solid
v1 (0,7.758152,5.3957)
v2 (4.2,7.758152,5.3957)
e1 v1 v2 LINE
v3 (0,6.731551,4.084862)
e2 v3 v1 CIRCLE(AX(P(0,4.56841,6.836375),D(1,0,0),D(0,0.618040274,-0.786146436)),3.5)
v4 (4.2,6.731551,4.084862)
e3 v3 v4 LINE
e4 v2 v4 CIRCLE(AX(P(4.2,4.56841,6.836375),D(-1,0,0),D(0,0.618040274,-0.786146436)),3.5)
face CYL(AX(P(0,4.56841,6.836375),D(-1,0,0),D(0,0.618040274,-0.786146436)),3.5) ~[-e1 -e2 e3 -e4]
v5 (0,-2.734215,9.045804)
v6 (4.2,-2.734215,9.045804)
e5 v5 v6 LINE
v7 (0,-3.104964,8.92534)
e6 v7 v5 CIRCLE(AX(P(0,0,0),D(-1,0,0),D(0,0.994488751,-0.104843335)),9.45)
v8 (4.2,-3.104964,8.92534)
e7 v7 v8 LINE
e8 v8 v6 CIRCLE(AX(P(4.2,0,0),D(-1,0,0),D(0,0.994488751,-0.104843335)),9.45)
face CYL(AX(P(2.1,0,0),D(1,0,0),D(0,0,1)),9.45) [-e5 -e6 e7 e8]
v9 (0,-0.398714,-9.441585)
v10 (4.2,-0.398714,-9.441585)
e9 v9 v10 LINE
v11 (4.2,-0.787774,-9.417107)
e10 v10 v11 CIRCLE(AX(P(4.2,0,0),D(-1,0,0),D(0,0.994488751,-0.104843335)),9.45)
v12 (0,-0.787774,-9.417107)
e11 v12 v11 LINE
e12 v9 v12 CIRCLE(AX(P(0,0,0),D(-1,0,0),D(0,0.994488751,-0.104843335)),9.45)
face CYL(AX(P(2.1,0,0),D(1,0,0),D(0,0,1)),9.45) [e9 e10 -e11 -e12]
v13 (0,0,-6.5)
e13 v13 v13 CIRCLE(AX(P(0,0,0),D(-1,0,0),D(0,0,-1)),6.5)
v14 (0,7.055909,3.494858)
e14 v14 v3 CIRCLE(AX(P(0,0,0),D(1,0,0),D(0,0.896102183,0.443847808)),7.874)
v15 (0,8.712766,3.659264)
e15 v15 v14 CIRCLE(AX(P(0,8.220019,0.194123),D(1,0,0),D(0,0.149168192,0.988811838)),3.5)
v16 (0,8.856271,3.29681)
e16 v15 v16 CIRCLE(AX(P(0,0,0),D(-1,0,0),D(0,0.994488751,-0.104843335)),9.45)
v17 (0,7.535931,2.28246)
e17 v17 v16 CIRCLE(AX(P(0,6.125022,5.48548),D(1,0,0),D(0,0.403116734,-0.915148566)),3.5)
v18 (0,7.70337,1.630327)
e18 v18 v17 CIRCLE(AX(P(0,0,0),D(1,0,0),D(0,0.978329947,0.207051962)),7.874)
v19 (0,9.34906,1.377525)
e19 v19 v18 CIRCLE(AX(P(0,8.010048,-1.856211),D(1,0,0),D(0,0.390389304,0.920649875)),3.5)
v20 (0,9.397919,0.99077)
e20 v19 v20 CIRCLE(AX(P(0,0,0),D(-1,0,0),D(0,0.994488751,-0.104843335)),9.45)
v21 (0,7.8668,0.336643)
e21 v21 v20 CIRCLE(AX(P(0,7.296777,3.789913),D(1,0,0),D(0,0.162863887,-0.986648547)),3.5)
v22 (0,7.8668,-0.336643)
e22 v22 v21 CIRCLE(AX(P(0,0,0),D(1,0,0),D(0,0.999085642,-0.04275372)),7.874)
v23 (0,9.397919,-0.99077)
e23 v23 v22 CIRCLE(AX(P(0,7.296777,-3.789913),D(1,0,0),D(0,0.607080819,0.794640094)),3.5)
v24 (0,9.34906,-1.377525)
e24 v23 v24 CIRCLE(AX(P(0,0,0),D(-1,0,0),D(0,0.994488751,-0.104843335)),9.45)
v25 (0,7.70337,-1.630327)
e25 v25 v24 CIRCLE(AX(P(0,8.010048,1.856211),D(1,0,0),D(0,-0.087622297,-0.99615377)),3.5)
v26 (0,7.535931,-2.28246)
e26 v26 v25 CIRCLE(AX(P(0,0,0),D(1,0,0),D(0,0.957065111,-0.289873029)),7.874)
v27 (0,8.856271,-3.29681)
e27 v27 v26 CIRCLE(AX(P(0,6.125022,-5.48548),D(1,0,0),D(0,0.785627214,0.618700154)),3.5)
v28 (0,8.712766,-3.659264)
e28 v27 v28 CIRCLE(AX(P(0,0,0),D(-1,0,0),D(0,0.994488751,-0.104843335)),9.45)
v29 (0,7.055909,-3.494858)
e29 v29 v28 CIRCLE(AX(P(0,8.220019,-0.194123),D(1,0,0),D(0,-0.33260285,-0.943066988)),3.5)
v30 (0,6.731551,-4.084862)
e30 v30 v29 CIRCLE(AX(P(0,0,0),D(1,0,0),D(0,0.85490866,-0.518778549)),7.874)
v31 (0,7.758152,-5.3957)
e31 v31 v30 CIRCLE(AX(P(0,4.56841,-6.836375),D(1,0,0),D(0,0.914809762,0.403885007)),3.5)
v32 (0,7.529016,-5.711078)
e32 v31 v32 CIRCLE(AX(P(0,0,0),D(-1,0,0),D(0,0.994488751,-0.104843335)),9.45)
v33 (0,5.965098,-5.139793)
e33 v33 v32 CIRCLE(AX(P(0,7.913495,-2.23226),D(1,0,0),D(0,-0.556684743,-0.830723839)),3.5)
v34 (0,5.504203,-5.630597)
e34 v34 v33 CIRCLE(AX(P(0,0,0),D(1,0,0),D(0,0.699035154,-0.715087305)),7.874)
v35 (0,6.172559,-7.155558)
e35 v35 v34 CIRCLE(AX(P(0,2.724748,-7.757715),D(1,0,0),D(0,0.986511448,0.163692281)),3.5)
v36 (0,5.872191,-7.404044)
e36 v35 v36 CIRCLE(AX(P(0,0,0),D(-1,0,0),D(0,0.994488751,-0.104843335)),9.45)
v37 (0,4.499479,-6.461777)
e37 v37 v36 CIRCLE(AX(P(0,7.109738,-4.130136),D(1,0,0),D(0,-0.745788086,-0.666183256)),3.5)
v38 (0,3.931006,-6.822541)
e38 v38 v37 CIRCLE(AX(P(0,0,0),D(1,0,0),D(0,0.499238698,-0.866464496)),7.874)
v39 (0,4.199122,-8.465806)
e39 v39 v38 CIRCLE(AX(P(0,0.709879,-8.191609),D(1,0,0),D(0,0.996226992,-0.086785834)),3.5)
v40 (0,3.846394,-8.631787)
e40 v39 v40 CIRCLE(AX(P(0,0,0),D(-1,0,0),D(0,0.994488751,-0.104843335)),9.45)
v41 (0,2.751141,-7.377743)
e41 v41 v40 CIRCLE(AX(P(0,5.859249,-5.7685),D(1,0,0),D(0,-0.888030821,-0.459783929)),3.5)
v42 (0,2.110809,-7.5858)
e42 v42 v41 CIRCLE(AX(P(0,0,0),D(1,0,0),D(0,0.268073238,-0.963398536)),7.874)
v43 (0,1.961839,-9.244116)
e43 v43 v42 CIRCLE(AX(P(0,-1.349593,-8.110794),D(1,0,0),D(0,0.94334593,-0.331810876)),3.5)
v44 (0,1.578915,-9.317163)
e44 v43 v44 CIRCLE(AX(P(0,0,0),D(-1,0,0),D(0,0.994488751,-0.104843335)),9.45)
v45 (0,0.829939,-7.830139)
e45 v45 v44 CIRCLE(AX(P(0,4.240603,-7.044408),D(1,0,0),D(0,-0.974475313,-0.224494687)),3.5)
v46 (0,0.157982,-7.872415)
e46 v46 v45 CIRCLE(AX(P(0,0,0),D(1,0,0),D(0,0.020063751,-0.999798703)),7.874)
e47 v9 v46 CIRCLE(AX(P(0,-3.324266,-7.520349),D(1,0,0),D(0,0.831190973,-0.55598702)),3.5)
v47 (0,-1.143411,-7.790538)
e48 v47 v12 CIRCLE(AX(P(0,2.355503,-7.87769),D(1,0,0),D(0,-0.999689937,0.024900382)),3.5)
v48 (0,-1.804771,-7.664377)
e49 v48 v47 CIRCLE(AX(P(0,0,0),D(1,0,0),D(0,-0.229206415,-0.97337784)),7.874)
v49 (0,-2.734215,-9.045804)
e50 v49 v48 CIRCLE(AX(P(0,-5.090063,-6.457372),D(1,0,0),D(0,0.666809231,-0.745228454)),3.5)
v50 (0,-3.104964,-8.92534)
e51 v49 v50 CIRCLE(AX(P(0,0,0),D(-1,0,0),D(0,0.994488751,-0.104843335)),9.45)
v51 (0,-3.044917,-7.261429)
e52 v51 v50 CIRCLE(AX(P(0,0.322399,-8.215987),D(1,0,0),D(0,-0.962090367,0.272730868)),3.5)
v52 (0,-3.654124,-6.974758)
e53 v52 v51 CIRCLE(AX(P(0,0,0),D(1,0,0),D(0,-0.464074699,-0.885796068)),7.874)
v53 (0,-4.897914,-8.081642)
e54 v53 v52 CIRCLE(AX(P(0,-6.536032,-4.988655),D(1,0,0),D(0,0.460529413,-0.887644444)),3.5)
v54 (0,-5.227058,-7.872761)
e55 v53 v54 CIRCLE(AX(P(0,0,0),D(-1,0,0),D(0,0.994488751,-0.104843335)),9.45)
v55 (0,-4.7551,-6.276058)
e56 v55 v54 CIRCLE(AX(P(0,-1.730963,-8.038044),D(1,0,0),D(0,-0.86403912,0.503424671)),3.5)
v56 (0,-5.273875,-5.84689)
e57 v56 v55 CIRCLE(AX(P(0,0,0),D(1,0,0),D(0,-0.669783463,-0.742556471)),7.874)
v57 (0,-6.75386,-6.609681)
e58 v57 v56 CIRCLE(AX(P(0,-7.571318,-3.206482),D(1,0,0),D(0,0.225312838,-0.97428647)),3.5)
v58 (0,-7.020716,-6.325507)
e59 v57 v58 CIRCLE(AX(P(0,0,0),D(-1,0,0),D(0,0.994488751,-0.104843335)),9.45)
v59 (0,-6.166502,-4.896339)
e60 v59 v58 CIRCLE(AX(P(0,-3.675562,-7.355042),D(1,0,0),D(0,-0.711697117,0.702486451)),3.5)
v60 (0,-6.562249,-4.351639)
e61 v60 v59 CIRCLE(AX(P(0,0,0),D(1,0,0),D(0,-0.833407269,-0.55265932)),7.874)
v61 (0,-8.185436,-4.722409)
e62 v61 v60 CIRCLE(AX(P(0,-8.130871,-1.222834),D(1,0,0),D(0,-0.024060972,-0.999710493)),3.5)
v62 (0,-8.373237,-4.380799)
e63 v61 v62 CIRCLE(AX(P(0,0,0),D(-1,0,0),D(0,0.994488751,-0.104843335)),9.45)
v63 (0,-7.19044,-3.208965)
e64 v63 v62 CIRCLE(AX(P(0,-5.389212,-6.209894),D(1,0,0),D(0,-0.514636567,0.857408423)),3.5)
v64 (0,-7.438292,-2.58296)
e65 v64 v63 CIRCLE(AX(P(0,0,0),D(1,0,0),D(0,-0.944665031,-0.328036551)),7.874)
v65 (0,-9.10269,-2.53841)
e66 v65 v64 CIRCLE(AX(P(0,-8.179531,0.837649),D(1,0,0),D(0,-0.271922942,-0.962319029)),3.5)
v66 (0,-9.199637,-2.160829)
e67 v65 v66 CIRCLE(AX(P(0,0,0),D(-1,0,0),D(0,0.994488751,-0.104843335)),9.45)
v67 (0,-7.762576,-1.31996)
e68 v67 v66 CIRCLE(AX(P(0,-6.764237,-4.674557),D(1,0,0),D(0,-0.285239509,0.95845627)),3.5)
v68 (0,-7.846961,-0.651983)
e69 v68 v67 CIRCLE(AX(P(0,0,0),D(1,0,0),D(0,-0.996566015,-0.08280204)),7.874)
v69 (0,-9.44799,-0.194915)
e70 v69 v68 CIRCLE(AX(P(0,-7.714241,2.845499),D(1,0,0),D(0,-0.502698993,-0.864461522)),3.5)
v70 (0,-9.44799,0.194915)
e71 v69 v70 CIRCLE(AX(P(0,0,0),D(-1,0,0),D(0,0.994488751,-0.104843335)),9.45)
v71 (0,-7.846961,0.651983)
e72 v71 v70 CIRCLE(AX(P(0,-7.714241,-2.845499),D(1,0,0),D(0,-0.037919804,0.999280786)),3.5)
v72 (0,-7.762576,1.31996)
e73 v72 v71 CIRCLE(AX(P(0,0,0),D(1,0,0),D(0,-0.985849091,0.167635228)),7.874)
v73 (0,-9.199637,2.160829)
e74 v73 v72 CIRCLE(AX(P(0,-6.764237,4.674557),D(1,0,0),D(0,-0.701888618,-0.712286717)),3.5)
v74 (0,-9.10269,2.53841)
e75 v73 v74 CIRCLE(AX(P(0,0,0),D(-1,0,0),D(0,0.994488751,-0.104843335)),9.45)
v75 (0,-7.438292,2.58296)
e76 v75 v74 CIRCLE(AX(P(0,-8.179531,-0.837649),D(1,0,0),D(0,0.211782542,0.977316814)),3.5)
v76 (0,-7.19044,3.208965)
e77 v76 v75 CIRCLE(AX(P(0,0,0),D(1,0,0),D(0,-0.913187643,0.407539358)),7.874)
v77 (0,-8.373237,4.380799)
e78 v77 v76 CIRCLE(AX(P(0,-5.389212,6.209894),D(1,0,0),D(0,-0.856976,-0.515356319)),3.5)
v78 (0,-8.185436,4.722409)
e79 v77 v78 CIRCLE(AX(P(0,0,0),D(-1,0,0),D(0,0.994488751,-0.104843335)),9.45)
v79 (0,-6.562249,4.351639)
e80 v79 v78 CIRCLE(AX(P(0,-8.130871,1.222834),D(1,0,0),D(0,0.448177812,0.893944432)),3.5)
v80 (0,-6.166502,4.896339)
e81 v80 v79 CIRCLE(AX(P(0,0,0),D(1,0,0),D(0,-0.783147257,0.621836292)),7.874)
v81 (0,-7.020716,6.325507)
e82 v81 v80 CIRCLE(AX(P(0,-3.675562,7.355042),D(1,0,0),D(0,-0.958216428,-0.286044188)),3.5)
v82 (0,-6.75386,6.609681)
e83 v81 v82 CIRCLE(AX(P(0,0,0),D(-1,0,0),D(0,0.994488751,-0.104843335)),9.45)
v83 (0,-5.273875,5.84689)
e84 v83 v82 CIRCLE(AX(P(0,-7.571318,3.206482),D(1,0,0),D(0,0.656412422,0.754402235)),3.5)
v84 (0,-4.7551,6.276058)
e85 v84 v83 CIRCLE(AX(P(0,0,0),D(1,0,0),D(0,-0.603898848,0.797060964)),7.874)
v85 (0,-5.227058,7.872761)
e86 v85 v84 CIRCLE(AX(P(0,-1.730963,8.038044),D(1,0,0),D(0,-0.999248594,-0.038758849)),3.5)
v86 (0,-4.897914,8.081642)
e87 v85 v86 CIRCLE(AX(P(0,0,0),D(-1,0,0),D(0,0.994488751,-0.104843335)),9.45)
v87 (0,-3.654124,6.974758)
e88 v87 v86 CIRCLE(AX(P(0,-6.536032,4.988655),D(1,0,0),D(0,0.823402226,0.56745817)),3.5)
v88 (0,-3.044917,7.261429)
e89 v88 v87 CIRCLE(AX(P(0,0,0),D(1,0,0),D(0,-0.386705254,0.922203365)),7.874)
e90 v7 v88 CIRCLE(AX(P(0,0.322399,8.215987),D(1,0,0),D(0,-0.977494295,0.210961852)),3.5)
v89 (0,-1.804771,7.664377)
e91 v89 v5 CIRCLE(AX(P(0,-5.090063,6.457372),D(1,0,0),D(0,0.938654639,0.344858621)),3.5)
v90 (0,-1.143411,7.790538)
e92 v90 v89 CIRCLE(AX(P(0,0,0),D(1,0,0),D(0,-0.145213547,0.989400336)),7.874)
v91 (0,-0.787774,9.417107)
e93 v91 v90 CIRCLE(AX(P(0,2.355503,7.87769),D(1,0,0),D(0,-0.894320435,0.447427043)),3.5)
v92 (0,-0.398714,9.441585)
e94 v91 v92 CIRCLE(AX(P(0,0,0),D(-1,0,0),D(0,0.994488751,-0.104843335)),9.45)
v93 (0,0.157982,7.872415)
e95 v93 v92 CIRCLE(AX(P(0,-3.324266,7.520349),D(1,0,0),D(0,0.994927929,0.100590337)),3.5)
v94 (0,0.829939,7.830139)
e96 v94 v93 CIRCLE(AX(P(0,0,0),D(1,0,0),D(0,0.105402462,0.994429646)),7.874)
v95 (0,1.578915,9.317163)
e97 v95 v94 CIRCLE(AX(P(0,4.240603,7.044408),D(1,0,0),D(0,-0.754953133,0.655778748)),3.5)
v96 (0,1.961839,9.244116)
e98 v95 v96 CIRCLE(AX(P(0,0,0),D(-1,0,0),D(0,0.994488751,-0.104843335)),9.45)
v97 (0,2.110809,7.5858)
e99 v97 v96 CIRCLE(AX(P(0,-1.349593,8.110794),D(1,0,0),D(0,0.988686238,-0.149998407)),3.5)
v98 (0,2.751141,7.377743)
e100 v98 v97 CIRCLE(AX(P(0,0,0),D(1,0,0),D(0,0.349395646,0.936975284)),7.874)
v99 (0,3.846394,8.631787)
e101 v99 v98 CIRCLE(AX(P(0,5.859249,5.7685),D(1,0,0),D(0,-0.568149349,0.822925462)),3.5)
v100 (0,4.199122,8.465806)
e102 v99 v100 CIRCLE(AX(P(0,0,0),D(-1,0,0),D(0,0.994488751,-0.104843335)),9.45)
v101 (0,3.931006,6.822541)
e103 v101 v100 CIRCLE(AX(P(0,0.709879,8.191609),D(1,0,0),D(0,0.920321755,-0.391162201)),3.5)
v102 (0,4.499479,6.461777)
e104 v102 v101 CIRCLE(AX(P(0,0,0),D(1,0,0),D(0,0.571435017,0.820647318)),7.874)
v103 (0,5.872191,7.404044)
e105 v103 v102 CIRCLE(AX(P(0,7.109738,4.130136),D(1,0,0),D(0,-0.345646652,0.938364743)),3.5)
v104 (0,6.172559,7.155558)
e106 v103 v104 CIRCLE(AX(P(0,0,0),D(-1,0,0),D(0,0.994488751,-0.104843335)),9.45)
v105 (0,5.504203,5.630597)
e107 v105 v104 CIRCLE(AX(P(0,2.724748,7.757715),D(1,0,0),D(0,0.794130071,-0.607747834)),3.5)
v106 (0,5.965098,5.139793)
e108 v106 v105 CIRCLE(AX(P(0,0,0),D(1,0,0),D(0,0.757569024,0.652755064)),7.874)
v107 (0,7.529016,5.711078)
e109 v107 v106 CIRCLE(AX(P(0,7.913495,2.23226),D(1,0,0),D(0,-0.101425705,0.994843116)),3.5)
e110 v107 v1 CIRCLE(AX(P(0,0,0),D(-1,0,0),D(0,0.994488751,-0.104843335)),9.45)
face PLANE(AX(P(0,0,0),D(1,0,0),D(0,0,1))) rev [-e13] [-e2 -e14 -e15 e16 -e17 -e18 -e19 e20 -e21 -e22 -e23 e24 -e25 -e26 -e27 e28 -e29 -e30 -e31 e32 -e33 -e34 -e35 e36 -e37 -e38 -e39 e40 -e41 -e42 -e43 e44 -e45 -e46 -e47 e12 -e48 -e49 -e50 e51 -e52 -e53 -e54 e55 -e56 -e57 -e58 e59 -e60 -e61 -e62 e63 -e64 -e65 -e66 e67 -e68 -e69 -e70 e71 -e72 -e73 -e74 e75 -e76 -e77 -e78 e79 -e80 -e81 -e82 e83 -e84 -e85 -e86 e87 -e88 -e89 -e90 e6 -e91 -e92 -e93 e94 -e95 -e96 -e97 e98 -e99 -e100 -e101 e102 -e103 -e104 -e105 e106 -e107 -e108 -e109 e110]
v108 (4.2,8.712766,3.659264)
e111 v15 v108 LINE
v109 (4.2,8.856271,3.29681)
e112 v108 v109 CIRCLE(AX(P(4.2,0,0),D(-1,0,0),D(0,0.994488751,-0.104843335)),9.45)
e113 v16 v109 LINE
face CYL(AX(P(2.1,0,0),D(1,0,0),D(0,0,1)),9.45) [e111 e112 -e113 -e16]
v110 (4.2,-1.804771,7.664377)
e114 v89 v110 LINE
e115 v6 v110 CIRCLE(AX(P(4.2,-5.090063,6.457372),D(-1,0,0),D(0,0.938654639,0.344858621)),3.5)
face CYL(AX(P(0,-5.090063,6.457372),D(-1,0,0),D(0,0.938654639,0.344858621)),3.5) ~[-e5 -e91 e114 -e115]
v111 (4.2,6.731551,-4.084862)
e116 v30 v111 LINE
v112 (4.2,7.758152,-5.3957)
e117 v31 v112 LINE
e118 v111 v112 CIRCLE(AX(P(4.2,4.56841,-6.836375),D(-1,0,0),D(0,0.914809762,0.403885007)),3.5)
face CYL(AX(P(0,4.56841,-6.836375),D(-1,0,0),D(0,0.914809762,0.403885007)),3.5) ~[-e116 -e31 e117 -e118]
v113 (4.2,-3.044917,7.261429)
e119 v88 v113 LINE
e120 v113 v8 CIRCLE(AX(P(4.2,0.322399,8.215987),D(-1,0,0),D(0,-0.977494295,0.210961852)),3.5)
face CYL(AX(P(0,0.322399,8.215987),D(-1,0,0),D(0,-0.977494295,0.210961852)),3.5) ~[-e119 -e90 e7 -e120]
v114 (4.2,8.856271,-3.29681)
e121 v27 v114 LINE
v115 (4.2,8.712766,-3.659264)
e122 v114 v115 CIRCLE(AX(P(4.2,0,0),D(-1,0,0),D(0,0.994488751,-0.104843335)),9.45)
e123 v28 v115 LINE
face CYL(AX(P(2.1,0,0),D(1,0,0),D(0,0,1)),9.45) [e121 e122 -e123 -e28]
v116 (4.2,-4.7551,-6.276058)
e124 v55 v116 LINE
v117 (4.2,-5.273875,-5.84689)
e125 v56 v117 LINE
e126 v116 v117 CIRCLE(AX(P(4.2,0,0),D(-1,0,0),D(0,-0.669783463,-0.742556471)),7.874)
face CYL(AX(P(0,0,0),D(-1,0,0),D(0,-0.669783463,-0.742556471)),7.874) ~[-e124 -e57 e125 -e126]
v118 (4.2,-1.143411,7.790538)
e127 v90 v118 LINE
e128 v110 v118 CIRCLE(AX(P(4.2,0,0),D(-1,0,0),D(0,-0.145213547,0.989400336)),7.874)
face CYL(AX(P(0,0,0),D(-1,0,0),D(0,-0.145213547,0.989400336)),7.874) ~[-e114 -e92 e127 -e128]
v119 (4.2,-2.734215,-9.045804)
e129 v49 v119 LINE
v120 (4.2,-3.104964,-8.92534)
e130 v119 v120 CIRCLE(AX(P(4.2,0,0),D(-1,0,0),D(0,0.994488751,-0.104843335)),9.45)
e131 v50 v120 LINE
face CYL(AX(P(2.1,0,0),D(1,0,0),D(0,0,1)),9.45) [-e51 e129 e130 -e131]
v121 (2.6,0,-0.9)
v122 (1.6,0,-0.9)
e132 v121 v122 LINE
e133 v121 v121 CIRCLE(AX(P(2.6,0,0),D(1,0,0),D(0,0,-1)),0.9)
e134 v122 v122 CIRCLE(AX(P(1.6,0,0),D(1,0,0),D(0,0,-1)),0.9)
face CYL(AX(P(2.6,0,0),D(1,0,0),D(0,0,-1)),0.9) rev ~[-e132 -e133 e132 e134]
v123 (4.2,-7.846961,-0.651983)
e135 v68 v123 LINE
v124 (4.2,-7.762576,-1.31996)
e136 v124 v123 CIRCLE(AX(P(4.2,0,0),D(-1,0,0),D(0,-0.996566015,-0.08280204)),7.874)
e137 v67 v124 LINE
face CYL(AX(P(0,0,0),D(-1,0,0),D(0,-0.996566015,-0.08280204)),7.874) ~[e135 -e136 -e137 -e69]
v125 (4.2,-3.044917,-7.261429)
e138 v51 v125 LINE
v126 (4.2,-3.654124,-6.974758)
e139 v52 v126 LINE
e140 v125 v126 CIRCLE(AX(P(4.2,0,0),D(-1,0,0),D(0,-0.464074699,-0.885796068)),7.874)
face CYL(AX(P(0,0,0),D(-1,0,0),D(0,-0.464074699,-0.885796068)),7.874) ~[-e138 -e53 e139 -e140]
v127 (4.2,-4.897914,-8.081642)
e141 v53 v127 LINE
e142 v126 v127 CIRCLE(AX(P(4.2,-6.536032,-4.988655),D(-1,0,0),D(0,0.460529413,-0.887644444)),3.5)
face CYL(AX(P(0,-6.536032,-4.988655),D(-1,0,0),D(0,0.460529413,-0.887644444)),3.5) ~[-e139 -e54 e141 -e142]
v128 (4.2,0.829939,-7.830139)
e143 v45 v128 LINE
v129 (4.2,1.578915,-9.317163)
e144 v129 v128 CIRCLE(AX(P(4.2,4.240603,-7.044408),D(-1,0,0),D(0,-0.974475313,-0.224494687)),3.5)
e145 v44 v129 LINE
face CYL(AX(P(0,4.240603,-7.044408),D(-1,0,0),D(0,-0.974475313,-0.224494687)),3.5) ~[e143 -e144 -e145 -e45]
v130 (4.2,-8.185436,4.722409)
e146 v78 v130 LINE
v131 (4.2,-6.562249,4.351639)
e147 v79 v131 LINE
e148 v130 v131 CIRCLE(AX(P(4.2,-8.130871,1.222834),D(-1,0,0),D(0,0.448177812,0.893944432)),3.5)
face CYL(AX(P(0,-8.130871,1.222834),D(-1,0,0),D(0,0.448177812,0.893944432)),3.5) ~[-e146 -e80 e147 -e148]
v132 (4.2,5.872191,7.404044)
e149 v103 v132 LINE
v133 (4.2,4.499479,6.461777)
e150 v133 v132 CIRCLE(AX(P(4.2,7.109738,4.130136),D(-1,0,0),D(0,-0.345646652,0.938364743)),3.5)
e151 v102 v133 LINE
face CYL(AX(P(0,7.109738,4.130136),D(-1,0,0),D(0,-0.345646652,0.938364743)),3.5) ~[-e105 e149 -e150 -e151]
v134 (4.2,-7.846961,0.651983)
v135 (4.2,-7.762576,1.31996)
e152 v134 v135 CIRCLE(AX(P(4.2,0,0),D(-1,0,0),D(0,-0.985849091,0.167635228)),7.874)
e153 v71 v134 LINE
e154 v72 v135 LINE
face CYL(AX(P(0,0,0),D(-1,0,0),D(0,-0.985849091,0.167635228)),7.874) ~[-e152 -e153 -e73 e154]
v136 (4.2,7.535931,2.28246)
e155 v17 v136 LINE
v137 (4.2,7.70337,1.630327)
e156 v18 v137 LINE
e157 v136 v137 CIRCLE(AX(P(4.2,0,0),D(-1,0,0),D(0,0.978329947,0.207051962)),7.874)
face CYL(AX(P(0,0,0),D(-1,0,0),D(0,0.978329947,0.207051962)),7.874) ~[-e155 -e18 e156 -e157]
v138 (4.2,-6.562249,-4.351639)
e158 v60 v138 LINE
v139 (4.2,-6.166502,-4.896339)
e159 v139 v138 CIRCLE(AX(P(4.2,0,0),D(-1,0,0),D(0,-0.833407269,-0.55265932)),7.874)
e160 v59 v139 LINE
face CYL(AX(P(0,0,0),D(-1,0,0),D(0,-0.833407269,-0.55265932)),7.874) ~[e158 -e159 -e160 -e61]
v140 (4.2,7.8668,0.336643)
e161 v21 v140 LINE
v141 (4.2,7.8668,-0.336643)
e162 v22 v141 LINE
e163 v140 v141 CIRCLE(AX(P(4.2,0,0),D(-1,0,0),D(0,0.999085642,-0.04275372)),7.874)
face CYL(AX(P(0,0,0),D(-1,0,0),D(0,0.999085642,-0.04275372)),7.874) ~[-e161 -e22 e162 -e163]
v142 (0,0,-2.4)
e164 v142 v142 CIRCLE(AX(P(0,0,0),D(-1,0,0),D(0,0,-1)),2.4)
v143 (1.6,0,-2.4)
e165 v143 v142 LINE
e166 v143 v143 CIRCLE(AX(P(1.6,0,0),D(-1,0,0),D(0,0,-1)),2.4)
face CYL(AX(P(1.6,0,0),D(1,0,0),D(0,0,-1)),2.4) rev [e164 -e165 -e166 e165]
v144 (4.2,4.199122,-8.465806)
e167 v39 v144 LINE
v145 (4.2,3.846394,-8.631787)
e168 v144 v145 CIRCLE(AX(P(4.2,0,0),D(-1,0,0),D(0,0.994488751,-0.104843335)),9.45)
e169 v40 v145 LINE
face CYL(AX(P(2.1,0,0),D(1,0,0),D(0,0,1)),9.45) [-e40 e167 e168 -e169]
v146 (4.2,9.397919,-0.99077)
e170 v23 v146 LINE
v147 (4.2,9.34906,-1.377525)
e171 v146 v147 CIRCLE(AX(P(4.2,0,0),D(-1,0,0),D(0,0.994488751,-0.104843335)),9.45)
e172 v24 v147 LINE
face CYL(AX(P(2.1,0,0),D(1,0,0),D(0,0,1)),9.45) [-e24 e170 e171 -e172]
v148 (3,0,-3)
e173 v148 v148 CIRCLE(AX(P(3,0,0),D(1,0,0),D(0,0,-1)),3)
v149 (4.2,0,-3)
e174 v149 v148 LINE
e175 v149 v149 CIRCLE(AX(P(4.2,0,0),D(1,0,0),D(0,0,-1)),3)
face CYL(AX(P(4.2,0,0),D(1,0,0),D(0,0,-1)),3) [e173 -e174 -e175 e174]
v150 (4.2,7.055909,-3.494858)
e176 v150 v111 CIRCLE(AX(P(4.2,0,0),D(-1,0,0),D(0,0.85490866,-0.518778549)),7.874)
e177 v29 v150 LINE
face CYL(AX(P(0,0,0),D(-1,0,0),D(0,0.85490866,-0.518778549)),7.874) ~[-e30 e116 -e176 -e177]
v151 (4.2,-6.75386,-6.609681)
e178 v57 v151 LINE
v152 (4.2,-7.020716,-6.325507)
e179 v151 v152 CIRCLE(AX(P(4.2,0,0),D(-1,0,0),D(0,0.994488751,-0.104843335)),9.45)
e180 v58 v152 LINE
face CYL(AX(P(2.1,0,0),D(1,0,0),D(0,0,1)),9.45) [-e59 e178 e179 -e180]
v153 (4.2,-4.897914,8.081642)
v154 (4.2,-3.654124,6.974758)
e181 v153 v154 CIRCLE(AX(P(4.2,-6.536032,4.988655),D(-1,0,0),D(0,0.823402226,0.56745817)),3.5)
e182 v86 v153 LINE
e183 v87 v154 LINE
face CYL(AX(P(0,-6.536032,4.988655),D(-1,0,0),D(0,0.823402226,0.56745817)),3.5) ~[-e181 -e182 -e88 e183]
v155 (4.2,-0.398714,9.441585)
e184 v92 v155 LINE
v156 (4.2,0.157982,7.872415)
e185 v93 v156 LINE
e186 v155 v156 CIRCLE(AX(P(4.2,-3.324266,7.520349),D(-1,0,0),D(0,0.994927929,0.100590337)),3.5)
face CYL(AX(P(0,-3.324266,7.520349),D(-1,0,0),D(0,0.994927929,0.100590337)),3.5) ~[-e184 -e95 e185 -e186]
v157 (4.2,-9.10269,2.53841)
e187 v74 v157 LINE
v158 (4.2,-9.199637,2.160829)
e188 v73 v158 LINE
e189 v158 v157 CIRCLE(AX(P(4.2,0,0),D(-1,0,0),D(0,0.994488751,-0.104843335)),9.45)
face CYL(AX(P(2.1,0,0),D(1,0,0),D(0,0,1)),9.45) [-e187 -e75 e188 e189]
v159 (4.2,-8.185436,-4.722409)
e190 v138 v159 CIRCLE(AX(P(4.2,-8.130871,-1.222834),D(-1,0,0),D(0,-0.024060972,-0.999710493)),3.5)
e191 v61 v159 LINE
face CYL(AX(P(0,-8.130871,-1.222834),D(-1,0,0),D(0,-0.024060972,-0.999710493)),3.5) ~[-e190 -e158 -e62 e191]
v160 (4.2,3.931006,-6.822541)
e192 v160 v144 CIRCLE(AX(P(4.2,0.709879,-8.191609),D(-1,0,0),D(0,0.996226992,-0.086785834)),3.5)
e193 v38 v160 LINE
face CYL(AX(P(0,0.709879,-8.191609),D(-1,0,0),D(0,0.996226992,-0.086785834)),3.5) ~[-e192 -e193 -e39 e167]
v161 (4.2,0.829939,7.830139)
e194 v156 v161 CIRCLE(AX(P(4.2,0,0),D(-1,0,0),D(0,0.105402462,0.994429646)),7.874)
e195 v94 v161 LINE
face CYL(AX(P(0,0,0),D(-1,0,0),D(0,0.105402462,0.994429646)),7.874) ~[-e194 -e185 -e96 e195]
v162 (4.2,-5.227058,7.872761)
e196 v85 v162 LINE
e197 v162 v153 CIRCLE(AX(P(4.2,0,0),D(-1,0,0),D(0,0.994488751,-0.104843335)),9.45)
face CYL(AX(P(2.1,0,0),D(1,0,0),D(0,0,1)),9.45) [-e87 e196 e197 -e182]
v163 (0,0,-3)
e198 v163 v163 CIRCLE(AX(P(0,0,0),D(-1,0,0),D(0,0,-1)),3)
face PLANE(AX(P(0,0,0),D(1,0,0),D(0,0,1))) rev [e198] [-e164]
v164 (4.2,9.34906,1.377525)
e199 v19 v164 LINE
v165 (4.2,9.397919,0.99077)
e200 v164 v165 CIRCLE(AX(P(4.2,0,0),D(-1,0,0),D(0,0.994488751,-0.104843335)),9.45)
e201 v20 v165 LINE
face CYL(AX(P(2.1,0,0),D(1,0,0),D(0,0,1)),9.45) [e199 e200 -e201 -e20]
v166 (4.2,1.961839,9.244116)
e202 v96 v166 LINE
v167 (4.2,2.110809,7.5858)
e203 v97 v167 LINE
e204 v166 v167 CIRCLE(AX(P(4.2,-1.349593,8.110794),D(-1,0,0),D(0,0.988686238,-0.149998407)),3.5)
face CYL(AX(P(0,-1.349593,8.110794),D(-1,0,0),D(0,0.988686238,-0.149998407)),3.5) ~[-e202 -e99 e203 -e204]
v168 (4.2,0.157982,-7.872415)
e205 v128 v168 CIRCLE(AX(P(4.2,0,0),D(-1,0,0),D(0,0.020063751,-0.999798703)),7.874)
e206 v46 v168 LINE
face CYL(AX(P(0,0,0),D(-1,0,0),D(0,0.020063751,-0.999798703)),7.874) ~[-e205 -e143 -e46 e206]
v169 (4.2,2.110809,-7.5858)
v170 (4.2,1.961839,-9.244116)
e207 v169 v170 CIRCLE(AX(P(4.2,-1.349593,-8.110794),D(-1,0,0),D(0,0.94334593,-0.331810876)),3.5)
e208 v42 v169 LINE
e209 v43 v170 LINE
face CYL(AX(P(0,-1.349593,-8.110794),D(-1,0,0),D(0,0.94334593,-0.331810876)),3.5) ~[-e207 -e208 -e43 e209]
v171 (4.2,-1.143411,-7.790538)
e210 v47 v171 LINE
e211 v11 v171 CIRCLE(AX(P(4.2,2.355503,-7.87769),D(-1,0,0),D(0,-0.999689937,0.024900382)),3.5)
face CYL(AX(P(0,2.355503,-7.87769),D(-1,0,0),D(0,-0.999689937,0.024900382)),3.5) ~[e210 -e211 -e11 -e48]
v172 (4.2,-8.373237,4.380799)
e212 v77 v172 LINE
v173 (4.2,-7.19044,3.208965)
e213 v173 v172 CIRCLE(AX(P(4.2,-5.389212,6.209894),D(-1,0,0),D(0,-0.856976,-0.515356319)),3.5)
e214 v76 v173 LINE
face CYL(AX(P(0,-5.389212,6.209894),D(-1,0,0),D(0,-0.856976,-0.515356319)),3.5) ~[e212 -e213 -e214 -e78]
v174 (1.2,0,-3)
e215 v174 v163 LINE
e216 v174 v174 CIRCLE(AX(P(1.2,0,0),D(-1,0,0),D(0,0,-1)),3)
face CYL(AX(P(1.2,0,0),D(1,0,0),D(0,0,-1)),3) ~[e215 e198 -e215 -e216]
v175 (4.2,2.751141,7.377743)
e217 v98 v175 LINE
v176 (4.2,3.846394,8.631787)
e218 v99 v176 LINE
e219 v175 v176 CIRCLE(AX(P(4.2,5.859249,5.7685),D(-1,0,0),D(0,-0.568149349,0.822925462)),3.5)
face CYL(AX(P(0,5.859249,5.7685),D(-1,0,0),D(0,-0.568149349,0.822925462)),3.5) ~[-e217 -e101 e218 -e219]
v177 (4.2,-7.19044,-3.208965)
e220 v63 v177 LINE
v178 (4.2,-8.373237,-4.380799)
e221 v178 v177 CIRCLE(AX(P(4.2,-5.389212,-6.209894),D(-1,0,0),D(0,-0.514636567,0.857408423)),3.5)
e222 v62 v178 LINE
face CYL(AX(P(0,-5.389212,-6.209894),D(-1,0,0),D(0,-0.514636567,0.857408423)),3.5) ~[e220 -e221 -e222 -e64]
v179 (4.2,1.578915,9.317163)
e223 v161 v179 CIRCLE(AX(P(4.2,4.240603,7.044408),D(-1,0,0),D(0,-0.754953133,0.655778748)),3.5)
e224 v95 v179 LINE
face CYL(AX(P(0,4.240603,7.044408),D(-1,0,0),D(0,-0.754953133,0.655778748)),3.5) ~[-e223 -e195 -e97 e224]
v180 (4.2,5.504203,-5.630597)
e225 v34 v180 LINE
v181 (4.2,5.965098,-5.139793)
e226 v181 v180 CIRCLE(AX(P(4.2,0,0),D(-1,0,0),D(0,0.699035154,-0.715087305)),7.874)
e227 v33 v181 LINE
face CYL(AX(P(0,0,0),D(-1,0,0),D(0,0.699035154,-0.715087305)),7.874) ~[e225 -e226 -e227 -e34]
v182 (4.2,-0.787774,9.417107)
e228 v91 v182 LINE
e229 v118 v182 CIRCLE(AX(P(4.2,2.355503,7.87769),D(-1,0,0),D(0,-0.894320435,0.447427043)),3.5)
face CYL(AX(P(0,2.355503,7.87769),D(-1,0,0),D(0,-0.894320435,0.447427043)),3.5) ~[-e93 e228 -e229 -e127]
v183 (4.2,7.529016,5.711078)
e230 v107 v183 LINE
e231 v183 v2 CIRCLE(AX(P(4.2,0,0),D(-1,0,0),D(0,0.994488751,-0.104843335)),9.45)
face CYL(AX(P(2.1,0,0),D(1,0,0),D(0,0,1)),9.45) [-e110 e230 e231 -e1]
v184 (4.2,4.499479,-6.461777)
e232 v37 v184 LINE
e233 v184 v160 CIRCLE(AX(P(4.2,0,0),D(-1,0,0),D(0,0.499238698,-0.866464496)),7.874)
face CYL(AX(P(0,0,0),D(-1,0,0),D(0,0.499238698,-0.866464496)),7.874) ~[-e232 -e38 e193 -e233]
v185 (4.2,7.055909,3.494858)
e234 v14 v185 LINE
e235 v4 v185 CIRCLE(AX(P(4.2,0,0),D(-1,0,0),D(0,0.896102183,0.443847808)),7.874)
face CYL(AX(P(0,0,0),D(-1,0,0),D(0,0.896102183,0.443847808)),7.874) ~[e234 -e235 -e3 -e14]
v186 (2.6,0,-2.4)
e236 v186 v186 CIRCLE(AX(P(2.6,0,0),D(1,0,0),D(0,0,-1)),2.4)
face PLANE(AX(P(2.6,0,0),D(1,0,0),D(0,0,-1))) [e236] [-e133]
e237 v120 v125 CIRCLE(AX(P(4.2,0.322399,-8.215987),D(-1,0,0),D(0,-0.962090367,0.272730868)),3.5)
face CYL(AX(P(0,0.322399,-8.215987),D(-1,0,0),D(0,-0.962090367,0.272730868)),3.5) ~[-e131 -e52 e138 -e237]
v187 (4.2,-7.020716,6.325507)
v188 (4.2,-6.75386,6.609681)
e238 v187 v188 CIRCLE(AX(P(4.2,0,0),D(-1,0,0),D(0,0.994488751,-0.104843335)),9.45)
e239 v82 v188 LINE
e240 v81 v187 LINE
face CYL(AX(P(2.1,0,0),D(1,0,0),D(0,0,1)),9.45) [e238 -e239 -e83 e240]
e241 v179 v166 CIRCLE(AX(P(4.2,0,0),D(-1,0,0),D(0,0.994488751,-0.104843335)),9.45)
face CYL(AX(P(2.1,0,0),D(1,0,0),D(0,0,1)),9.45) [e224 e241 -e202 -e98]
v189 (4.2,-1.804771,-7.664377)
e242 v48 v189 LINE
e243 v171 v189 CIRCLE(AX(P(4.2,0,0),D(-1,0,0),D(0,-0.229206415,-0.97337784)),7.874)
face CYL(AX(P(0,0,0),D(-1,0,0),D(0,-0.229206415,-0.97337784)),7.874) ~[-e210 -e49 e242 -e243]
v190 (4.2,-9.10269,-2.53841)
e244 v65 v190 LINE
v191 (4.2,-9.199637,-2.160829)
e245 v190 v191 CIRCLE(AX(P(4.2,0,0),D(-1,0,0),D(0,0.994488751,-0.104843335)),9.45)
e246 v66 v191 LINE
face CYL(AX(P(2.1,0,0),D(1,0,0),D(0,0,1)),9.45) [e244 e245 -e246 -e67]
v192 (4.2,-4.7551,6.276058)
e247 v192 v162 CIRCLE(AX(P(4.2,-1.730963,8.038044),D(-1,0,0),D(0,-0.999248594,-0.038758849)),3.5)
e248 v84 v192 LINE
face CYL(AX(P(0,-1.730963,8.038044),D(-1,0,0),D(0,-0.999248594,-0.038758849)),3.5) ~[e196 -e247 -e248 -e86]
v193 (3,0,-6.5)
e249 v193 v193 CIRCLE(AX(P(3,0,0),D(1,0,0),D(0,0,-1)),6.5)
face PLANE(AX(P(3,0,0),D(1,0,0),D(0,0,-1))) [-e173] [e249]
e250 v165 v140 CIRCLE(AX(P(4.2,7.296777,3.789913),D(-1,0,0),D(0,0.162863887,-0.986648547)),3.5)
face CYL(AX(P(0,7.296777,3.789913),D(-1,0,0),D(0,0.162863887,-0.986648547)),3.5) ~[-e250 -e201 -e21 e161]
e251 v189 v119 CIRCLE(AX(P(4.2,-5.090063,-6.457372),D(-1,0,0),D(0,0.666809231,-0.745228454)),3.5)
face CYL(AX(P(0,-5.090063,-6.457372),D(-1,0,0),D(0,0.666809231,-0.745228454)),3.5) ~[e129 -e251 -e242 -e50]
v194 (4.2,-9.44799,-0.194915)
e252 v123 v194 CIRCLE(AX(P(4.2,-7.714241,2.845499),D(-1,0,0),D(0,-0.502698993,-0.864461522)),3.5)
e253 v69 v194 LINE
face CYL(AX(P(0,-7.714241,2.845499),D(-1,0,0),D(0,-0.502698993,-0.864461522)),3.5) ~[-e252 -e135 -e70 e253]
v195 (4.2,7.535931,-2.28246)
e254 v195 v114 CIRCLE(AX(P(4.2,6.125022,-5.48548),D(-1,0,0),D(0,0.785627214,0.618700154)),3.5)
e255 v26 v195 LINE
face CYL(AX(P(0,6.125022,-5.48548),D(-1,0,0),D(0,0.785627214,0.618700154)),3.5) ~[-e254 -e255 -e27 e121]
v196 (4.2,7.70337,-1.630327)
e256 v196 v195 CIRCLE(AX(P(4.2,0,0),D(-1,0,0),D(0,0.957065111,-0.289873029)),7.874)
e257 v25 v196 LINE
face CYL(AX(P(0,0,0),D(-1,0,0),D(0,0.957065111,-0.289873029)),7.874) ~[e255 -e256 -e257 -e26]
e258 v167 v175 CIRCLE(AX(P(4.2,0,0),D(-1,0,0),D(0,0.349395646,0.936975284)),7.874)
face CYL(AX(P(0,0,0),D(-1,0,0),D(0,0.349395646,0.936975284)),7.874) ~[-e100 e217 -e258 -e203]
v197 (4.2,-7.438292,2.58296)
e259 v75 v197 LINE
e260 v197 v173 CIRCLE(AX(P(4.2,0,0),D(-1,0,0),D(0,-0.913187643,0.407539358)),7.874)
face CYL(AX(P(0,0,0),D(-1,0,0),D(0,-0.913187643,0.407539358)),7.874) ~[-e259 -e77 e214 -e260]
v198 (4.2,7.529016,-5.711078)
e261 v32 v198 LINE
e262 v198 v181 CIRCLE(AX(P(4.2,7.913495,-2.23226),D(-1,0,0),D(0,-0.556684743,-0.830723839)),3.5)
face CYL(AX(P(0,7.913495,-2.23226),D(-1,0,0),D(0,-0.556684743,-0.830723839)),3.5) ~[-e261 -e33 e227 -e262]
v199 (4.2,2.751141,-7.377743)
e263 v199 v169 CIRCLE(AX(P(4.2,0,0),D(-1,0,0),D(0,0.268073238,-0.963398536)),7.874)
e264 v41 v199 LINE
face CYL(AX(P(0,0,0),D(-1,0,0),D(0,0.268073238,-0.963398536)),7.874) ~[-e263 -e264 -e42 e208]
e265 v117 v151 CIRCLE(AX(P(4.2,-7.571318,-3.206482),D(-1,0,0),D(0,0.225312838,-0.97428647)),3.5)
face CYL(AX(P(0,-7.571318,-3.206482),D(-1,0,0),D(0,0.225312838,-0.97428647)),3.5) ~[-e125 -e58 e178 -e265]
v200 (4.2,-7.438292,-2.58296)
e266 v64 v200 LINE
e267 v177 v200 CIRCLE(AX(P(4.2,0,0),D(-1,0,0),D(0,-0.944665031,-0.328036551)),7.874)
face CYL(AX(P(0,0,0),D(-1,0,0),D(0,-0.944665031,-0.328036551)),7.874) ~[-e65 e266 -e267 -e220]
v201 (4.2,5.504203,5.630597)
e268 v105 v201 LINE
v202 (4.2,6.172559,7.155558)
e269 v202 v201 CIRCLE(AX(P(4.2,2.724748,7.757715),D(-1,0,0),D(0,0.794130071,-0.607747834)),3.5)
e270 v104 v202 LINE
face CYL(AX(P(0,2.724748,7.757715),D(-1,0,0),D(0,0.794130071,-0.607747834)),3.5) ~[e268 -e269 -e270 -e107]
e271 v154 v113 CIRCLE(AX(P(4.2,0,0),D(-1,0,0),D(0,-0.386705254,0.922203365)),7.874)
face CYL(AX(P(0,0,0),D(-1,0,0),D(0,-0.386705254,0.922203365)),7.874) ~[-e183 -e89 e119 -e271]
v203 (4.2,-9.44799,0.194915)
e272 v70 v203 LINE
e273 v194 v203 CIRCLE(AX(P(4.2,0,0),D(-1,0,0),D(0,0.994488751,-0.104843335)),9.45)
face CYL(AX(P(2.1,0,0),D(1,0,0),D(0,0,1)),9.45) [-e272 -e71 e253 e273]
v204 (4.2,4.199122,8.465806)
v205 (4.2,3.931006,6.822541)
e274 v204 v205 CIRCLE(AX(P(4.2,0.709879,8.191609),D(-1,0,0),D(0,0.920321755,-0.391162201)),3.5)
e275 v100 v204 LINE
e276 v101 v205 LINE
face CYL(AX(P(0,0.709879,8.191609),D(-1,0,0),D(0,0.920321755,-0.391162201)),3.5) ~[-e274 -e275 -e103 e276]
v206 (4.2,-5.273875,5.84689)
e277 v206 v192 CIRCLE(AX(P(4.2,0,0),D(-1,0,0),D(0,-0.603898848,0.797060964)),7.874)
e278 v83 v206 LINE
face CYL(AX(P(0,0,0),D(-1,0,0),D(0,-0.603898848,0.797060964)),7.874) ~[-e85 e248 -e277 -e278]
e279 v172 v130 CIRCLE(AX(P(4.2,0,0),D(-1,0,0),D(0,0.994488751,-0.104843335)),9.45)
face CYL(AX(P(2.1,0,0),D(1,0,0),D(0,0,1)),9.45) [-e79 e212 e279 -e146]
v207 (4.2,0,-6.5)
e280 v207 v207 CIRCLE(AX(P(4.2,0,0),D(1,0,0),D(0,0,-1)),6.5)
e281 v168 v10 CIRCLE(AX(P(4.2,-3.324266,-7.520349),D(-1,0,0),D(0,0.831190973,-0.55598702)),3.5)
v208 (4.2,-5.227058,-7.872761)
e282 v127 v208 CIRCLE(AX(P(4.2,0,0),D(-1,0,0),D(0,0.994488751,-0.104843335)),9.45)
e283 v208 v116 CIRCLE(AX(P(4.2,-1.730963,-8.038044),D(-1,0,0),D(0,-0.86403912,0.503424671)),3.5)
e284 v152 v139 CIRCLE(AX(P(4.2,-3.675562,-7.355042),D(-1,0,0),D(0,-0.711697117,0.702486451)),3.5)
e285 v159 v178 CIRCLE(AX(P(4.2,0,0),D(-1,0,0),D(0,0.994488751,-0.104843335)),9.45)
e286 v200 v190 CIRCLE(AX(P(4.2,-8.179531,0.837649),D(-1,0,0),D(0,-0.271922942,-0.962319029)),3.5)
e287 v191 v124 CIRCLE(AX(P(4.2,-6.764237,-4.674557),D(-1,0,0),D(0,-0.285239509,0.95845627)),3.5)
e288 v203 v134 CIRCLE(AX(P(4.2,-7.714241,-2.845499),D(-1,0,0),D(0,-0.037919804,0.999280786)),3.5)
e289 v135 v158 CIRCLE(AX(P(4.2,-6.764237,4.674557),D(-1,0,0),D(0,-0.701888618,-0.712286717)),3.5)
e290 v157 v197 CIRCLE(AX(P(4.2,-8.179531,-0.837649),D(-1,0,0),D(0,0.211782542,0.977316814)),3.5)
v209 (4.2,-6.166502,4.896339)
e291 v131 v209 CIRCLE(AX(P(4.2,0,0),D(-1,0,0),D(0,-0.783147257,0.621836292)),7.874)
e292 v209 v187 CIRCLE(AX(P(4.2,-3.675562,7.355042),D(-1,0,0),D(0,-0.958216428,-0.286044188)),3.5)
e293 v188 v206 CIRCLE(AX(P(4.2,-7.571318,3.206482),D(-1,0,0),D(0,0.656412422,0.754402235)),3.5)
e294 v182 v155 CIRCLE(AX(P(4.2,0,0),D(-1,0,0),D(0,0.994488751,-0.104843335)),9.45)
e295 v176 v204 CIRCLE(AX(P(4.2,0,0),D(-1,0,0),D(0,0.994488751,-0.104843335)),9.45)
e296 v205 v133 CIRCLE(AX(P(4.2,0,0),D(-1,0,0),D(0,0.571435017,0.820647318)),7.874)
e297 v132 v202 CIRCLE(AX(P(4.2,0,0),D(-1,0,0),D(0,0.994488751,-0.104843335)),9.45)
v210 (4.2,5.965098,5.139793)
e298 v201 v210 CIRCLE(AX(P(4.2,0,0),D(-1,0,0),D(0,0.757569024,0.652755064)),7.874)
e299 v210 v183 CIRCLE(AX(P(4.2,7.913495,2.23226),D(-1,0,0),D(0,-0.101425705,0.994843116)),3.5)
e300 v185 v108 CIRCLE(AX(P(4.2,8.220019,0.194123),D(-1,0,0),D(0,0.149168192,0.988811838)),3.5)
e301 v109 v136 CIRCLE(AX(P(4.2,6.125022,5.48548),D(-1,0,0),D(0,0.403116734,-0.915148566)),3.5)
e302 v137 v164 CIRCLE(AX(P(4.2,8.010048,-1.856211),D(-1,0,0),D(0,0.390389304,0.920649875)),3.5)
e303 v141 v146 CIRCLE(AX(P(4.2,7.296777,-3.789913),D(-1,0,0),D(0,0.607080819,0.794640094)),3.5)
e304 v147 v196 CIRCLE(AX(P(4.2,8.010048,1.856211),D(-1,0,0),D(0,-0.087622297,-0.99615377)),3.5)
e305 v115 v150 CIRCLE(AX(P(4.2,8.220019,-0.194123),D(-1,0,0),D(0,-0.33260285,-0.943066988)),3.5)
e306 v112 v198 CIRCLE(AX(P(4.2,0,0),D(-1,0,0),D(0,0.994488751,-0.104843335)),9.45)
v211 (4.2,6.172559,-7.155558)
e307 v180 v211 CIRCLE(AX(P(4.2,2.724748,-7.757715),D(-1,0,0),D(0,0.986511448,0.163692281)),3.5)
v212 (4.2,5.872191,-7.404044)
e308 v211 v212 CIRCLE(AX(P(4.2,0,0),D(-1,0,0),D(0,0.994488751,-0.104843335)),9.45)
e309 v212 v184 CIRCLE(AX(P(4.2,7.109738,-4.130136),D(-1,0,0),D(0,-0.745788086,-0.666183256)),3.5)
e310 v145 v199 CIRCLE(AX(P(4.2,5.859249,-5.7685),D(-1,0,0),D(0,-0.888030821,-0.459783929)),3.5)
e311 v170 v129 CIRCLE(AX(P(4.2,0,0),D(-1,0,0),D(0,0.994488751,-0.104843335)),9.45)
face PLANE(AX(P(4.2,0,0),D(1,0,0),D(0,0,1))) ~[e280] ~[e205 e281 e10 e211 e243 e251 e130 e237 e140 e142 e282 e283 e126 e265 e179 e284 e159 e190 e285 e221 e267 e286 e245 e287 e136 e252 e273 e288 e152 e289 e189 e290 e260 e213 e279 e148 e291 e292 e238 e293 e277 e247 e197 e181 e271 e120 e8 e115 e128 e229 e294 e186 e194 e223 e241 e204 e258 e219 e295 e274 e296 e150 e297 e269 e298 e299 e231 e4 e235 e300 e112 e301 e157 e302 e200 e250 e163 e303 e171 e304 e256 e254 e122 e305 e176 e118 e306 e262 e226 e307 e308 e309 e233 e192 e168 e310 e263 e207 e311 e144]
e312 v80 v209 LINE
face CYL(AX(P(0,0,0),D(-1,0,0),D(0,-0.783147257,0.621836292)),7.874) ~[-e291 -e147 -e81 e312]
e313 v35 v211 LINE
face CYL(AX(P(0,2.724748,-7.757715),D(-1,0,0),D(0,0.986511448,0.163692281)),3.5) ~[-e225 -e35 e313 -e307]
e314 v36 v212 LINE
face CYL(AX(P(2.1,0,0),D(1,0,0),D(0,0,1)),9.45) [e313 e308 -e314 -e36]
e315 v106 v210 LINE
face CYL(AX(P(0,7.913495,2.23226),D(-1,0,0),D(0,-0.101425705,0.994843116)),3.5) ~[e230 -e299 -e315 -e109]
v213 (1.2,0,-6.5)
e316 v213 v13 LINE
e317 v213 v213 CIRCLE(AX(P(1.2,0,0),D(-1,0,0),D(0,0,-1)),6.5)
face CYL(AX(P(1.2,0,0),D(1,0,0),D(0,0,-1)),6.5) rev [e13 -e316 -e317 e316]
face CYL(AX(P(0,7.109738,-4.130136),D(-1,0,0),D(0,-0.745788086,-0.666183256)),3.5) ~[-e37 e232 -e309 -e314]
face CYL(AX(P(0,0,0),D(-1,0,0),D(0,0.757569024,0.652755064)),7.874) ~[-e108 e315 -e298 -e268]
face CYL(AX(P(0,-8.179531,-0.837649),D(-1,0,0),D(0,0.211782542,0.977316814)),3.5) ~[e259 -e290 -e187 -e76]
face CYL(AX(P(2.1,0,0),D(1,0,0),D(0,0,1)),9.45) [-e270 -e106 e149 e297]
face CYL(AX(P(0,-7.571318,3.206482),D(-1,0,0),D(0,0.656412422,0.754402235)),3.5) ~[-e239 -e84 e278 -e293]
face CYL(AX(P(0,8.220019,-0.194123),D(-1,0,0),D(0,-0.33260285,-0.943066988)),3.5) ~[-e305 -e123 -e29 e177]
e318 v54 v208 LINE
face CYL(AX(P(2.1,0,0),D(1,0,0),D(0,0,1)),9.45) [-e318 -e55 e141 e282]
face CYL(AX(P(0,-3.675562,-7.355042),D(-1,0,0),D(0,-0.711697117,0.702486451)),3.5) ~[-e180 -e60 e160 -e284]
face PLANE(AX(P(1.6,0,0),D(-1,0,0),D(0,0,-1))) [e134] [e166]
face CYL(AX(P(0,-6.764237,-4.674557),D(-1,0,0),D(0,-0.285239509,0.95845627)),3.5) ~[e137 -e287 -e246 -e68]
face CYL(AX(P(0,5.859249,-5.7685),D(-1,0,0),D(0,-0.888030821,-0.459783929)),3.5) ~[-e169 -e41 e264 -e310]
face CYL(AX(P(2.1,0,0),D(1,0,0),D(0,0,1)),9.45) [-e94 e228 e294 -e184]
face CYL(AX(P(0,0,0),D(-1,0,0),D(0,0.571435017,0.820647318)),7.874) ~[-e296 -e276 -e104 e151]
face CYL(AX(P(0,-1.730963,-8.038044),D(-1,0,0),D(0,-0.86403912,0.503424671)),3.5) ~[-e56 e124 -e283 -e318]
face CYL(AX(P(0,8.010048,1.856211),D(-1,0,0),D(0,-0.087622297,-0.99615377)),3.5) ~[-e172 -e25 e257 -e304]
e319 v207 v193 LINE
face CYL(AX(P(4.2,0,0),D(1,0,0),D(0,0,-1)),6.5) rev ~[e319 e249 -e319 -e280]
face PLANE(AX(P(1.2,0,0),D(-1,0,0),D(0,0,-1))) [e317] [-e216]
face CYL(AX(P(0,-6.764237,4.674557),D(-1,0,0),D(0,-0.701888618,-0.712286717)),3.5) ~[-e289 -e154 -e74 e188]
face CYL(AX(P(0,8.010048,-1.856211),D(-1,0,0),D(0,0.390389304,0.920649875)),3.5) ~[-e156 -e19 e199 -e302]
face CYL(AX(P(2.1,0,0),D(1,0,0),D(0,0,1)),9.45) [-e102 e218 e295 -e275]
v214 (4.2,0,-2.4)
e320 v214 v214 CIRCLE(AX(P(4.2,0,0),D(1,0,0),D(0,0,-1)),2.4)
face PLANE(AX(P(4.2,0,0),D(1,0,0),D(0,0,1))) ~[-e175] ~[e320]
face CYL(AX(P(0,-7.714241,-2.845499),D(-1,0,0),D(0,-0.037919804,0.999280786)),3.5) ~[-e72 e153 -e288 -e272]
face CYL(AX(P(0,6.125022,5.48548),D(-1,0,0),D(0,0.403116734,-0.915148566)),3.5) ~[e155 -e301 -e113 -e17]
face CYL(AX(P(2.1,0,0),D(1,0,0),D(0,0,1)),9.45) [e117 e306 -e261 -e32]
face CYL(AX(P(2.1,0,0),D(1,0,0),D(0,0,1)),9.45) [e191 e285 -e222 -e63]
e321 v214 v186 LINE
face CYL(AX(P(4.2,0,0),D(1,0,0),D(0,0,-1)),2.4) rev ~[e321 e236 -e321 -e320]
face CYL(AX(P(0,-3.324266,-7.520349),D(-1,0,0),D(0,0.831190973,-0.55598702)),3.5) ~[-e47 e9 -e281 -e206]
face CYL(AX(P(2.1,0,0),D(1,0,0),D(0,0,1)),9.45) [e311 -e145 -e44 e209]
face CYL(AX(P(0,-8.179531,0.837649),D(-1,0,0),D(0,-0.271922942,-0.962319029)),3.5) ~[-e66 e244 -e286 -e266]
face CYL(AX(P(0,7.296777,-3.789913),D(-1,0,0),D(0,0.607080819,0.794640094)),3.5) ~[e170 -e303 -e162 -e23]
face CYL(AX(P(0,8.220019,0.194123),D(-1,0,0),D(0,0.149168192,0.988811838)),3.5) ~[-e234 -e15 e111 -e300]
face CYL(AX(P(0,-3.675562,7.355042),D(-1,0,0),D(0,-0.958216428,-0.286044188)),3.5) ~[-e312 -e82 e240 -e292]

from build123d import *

# Parameters (mm, degrees)
BASPROSKE_W        = 4.2
BASPROSKE_H        = 9.45
TOOTHCUT_DEPTH     = 15.008747267
TEETHCUTS_COUNT    = 25
TEETHCUTS_ANGLE    = 345.6
SKETCH7_R          = 2.4
CUT_EXTRUDE2_DEPTH = 1.6
SKETCH13_R         = 6.5
SKETCH13_R_2       = 3
CUT_EXTRUDE3_DEPTH = 1.2
CUT_EXTRUDE4_START = -1.2
SKETCH15_R         = 6.5
SKETCH15_R_2       = 3
CUT_EXTRUDE4_DEPTH = 1.2
CUT_EXTRUDE5_START = -1.6
SKETCH17_R         = 2.4
CUT_EXTRUDE5_DEPTH = 1.6
SKETCH18_R         = 0.9
CUT_EXTRUDE6_DEPTH = 1.6


with BuildPart() as part:
    # BasProSke → Base-Revolve (revolve)
    with BuildSketch(Plane(origin=(0, 0, 0), x_dir=(1, 0, 0), z_dir=(0, 1, 0)), mode=Mode.PRIVATE) as base_revolve_sk:
        with Locations((2.1, 4.725)):
            Rectangle(BASPROSKE_W, BASPROSKE_H)
    revolve(base_revolve_sk.sketch.rotate(Axis((-10, 0, 0), (1, 0, 0)), 180), axis=Axis((-10, 0, 0), (1, 0, 0)))

    # TooCutSke → ToothCut (cut, through all)
    with BuildSketch(Plane(origin=(0, 0, 0), x_dir=(0, 0, -1), z_dir=(1, 0, 0))):
        with BuildLine():
            ThreePointArc((0.336642775, 7.866800343), (0, 7.874), (-0.336642775, 7.866800343))
            ThreePointArc((-0.336642775, 7.866800343), (-0.577188207, 8.685445672), (-1.008672355, 9.421559597))
            ThreePointArc((-1.008672355, 9.421559597), (0, 9.4754), (1.008672355, 9.421559597))
            ThreePointArc((1.008672355, 9.421559597), (0.577188207, 8.685445672), (0.336642775, 7.866800343))
        make_face()
    toothcut = extrude(amount=TOOTHCUT_DEPTH, mode=Mode.SUBTRACT)

    # TeethCuts: ToothCut ×25 about axis
    teethcuts_axis = Axis((-10, 0, 0), (1, 0, 0))
    for i in range(1, TEETHCUTS_COUNT):
        add(toothcut.rotate(teethcuts_axis, i * TEETHCUTS_ANGLE / (TEETHCUTS_COUNT - 1)), mode=Mode.SUBTRACT)

    # Sketch7 → Cut-Extrude2 (cut)
    with BuildSketch(Plane(origin=(4.2, 0, 0), x_dir=(0, 0, -1), z_dir=(1, 0, 0))):
        Circle(SKETCH7_R)
    extrude(amount=-CUT_EXTRUDE2_DEPTH, mode=Mode.SUBTRACT)

    # Sketch13 → Cut-Extrude3 (cut)
    with BuildSketch(Plane(origin=(4.2, 0, 0), x_dir=(0, 0, -1), z_dir=(1, 0, 0))):
        Circle(SKETCH13_R)
        Circle(SKETCH13_R_2, mode=Mode.SUBTRACT)
    extrude(amount=-CUT_EXTRUDE3_DEPTH, mode=Mode.SUBTRACT)

    # Sketch15 → Cut-Extrude4 (cut)
    with BuildSketch(Plane.ZY.offset(CUT_EXTRUDE4_START)):
        with Locations(Location((0, 0, 0), (0, 0, 180))):
            Circle(SKETCH15_R)
        with Locations(Location((0, 0, 0), (0, 0, 180))):
            Circle(SKETCH15_R_2, mode=Mode.SUBTRACT)
    extrude(amount=CUT_EXTRUDE4_DEPTH, mode=Mode.SUBTRACT)

    # Sketch17 → Cut-Extrude5 (cut)
    with BuildSketch(Plane.ZY.offset(CUT_EXTRUDE5_START)):
        with Locations(Location((0, 0, 0), (0, 0, 180))):
            Circle(SKETCH17_R)
    extrude(amount=CUT_EXTRUDE5_DEPTH, mode=Mode.SUBTRACT)

    # Sketch18 → Cut-Extrude6 (cut)
    with BuildSketch(Plane(origin=(2.6, 0, 0), x_dir=(0, 0, -1), z_dir=(1, 0, 0))):
        Circle(SKETCH18_R)
    extrude(amount=-CUT_EXTRUDE6_DEPTH, mode=Mode.SUBTRACT)


solid = part.part
